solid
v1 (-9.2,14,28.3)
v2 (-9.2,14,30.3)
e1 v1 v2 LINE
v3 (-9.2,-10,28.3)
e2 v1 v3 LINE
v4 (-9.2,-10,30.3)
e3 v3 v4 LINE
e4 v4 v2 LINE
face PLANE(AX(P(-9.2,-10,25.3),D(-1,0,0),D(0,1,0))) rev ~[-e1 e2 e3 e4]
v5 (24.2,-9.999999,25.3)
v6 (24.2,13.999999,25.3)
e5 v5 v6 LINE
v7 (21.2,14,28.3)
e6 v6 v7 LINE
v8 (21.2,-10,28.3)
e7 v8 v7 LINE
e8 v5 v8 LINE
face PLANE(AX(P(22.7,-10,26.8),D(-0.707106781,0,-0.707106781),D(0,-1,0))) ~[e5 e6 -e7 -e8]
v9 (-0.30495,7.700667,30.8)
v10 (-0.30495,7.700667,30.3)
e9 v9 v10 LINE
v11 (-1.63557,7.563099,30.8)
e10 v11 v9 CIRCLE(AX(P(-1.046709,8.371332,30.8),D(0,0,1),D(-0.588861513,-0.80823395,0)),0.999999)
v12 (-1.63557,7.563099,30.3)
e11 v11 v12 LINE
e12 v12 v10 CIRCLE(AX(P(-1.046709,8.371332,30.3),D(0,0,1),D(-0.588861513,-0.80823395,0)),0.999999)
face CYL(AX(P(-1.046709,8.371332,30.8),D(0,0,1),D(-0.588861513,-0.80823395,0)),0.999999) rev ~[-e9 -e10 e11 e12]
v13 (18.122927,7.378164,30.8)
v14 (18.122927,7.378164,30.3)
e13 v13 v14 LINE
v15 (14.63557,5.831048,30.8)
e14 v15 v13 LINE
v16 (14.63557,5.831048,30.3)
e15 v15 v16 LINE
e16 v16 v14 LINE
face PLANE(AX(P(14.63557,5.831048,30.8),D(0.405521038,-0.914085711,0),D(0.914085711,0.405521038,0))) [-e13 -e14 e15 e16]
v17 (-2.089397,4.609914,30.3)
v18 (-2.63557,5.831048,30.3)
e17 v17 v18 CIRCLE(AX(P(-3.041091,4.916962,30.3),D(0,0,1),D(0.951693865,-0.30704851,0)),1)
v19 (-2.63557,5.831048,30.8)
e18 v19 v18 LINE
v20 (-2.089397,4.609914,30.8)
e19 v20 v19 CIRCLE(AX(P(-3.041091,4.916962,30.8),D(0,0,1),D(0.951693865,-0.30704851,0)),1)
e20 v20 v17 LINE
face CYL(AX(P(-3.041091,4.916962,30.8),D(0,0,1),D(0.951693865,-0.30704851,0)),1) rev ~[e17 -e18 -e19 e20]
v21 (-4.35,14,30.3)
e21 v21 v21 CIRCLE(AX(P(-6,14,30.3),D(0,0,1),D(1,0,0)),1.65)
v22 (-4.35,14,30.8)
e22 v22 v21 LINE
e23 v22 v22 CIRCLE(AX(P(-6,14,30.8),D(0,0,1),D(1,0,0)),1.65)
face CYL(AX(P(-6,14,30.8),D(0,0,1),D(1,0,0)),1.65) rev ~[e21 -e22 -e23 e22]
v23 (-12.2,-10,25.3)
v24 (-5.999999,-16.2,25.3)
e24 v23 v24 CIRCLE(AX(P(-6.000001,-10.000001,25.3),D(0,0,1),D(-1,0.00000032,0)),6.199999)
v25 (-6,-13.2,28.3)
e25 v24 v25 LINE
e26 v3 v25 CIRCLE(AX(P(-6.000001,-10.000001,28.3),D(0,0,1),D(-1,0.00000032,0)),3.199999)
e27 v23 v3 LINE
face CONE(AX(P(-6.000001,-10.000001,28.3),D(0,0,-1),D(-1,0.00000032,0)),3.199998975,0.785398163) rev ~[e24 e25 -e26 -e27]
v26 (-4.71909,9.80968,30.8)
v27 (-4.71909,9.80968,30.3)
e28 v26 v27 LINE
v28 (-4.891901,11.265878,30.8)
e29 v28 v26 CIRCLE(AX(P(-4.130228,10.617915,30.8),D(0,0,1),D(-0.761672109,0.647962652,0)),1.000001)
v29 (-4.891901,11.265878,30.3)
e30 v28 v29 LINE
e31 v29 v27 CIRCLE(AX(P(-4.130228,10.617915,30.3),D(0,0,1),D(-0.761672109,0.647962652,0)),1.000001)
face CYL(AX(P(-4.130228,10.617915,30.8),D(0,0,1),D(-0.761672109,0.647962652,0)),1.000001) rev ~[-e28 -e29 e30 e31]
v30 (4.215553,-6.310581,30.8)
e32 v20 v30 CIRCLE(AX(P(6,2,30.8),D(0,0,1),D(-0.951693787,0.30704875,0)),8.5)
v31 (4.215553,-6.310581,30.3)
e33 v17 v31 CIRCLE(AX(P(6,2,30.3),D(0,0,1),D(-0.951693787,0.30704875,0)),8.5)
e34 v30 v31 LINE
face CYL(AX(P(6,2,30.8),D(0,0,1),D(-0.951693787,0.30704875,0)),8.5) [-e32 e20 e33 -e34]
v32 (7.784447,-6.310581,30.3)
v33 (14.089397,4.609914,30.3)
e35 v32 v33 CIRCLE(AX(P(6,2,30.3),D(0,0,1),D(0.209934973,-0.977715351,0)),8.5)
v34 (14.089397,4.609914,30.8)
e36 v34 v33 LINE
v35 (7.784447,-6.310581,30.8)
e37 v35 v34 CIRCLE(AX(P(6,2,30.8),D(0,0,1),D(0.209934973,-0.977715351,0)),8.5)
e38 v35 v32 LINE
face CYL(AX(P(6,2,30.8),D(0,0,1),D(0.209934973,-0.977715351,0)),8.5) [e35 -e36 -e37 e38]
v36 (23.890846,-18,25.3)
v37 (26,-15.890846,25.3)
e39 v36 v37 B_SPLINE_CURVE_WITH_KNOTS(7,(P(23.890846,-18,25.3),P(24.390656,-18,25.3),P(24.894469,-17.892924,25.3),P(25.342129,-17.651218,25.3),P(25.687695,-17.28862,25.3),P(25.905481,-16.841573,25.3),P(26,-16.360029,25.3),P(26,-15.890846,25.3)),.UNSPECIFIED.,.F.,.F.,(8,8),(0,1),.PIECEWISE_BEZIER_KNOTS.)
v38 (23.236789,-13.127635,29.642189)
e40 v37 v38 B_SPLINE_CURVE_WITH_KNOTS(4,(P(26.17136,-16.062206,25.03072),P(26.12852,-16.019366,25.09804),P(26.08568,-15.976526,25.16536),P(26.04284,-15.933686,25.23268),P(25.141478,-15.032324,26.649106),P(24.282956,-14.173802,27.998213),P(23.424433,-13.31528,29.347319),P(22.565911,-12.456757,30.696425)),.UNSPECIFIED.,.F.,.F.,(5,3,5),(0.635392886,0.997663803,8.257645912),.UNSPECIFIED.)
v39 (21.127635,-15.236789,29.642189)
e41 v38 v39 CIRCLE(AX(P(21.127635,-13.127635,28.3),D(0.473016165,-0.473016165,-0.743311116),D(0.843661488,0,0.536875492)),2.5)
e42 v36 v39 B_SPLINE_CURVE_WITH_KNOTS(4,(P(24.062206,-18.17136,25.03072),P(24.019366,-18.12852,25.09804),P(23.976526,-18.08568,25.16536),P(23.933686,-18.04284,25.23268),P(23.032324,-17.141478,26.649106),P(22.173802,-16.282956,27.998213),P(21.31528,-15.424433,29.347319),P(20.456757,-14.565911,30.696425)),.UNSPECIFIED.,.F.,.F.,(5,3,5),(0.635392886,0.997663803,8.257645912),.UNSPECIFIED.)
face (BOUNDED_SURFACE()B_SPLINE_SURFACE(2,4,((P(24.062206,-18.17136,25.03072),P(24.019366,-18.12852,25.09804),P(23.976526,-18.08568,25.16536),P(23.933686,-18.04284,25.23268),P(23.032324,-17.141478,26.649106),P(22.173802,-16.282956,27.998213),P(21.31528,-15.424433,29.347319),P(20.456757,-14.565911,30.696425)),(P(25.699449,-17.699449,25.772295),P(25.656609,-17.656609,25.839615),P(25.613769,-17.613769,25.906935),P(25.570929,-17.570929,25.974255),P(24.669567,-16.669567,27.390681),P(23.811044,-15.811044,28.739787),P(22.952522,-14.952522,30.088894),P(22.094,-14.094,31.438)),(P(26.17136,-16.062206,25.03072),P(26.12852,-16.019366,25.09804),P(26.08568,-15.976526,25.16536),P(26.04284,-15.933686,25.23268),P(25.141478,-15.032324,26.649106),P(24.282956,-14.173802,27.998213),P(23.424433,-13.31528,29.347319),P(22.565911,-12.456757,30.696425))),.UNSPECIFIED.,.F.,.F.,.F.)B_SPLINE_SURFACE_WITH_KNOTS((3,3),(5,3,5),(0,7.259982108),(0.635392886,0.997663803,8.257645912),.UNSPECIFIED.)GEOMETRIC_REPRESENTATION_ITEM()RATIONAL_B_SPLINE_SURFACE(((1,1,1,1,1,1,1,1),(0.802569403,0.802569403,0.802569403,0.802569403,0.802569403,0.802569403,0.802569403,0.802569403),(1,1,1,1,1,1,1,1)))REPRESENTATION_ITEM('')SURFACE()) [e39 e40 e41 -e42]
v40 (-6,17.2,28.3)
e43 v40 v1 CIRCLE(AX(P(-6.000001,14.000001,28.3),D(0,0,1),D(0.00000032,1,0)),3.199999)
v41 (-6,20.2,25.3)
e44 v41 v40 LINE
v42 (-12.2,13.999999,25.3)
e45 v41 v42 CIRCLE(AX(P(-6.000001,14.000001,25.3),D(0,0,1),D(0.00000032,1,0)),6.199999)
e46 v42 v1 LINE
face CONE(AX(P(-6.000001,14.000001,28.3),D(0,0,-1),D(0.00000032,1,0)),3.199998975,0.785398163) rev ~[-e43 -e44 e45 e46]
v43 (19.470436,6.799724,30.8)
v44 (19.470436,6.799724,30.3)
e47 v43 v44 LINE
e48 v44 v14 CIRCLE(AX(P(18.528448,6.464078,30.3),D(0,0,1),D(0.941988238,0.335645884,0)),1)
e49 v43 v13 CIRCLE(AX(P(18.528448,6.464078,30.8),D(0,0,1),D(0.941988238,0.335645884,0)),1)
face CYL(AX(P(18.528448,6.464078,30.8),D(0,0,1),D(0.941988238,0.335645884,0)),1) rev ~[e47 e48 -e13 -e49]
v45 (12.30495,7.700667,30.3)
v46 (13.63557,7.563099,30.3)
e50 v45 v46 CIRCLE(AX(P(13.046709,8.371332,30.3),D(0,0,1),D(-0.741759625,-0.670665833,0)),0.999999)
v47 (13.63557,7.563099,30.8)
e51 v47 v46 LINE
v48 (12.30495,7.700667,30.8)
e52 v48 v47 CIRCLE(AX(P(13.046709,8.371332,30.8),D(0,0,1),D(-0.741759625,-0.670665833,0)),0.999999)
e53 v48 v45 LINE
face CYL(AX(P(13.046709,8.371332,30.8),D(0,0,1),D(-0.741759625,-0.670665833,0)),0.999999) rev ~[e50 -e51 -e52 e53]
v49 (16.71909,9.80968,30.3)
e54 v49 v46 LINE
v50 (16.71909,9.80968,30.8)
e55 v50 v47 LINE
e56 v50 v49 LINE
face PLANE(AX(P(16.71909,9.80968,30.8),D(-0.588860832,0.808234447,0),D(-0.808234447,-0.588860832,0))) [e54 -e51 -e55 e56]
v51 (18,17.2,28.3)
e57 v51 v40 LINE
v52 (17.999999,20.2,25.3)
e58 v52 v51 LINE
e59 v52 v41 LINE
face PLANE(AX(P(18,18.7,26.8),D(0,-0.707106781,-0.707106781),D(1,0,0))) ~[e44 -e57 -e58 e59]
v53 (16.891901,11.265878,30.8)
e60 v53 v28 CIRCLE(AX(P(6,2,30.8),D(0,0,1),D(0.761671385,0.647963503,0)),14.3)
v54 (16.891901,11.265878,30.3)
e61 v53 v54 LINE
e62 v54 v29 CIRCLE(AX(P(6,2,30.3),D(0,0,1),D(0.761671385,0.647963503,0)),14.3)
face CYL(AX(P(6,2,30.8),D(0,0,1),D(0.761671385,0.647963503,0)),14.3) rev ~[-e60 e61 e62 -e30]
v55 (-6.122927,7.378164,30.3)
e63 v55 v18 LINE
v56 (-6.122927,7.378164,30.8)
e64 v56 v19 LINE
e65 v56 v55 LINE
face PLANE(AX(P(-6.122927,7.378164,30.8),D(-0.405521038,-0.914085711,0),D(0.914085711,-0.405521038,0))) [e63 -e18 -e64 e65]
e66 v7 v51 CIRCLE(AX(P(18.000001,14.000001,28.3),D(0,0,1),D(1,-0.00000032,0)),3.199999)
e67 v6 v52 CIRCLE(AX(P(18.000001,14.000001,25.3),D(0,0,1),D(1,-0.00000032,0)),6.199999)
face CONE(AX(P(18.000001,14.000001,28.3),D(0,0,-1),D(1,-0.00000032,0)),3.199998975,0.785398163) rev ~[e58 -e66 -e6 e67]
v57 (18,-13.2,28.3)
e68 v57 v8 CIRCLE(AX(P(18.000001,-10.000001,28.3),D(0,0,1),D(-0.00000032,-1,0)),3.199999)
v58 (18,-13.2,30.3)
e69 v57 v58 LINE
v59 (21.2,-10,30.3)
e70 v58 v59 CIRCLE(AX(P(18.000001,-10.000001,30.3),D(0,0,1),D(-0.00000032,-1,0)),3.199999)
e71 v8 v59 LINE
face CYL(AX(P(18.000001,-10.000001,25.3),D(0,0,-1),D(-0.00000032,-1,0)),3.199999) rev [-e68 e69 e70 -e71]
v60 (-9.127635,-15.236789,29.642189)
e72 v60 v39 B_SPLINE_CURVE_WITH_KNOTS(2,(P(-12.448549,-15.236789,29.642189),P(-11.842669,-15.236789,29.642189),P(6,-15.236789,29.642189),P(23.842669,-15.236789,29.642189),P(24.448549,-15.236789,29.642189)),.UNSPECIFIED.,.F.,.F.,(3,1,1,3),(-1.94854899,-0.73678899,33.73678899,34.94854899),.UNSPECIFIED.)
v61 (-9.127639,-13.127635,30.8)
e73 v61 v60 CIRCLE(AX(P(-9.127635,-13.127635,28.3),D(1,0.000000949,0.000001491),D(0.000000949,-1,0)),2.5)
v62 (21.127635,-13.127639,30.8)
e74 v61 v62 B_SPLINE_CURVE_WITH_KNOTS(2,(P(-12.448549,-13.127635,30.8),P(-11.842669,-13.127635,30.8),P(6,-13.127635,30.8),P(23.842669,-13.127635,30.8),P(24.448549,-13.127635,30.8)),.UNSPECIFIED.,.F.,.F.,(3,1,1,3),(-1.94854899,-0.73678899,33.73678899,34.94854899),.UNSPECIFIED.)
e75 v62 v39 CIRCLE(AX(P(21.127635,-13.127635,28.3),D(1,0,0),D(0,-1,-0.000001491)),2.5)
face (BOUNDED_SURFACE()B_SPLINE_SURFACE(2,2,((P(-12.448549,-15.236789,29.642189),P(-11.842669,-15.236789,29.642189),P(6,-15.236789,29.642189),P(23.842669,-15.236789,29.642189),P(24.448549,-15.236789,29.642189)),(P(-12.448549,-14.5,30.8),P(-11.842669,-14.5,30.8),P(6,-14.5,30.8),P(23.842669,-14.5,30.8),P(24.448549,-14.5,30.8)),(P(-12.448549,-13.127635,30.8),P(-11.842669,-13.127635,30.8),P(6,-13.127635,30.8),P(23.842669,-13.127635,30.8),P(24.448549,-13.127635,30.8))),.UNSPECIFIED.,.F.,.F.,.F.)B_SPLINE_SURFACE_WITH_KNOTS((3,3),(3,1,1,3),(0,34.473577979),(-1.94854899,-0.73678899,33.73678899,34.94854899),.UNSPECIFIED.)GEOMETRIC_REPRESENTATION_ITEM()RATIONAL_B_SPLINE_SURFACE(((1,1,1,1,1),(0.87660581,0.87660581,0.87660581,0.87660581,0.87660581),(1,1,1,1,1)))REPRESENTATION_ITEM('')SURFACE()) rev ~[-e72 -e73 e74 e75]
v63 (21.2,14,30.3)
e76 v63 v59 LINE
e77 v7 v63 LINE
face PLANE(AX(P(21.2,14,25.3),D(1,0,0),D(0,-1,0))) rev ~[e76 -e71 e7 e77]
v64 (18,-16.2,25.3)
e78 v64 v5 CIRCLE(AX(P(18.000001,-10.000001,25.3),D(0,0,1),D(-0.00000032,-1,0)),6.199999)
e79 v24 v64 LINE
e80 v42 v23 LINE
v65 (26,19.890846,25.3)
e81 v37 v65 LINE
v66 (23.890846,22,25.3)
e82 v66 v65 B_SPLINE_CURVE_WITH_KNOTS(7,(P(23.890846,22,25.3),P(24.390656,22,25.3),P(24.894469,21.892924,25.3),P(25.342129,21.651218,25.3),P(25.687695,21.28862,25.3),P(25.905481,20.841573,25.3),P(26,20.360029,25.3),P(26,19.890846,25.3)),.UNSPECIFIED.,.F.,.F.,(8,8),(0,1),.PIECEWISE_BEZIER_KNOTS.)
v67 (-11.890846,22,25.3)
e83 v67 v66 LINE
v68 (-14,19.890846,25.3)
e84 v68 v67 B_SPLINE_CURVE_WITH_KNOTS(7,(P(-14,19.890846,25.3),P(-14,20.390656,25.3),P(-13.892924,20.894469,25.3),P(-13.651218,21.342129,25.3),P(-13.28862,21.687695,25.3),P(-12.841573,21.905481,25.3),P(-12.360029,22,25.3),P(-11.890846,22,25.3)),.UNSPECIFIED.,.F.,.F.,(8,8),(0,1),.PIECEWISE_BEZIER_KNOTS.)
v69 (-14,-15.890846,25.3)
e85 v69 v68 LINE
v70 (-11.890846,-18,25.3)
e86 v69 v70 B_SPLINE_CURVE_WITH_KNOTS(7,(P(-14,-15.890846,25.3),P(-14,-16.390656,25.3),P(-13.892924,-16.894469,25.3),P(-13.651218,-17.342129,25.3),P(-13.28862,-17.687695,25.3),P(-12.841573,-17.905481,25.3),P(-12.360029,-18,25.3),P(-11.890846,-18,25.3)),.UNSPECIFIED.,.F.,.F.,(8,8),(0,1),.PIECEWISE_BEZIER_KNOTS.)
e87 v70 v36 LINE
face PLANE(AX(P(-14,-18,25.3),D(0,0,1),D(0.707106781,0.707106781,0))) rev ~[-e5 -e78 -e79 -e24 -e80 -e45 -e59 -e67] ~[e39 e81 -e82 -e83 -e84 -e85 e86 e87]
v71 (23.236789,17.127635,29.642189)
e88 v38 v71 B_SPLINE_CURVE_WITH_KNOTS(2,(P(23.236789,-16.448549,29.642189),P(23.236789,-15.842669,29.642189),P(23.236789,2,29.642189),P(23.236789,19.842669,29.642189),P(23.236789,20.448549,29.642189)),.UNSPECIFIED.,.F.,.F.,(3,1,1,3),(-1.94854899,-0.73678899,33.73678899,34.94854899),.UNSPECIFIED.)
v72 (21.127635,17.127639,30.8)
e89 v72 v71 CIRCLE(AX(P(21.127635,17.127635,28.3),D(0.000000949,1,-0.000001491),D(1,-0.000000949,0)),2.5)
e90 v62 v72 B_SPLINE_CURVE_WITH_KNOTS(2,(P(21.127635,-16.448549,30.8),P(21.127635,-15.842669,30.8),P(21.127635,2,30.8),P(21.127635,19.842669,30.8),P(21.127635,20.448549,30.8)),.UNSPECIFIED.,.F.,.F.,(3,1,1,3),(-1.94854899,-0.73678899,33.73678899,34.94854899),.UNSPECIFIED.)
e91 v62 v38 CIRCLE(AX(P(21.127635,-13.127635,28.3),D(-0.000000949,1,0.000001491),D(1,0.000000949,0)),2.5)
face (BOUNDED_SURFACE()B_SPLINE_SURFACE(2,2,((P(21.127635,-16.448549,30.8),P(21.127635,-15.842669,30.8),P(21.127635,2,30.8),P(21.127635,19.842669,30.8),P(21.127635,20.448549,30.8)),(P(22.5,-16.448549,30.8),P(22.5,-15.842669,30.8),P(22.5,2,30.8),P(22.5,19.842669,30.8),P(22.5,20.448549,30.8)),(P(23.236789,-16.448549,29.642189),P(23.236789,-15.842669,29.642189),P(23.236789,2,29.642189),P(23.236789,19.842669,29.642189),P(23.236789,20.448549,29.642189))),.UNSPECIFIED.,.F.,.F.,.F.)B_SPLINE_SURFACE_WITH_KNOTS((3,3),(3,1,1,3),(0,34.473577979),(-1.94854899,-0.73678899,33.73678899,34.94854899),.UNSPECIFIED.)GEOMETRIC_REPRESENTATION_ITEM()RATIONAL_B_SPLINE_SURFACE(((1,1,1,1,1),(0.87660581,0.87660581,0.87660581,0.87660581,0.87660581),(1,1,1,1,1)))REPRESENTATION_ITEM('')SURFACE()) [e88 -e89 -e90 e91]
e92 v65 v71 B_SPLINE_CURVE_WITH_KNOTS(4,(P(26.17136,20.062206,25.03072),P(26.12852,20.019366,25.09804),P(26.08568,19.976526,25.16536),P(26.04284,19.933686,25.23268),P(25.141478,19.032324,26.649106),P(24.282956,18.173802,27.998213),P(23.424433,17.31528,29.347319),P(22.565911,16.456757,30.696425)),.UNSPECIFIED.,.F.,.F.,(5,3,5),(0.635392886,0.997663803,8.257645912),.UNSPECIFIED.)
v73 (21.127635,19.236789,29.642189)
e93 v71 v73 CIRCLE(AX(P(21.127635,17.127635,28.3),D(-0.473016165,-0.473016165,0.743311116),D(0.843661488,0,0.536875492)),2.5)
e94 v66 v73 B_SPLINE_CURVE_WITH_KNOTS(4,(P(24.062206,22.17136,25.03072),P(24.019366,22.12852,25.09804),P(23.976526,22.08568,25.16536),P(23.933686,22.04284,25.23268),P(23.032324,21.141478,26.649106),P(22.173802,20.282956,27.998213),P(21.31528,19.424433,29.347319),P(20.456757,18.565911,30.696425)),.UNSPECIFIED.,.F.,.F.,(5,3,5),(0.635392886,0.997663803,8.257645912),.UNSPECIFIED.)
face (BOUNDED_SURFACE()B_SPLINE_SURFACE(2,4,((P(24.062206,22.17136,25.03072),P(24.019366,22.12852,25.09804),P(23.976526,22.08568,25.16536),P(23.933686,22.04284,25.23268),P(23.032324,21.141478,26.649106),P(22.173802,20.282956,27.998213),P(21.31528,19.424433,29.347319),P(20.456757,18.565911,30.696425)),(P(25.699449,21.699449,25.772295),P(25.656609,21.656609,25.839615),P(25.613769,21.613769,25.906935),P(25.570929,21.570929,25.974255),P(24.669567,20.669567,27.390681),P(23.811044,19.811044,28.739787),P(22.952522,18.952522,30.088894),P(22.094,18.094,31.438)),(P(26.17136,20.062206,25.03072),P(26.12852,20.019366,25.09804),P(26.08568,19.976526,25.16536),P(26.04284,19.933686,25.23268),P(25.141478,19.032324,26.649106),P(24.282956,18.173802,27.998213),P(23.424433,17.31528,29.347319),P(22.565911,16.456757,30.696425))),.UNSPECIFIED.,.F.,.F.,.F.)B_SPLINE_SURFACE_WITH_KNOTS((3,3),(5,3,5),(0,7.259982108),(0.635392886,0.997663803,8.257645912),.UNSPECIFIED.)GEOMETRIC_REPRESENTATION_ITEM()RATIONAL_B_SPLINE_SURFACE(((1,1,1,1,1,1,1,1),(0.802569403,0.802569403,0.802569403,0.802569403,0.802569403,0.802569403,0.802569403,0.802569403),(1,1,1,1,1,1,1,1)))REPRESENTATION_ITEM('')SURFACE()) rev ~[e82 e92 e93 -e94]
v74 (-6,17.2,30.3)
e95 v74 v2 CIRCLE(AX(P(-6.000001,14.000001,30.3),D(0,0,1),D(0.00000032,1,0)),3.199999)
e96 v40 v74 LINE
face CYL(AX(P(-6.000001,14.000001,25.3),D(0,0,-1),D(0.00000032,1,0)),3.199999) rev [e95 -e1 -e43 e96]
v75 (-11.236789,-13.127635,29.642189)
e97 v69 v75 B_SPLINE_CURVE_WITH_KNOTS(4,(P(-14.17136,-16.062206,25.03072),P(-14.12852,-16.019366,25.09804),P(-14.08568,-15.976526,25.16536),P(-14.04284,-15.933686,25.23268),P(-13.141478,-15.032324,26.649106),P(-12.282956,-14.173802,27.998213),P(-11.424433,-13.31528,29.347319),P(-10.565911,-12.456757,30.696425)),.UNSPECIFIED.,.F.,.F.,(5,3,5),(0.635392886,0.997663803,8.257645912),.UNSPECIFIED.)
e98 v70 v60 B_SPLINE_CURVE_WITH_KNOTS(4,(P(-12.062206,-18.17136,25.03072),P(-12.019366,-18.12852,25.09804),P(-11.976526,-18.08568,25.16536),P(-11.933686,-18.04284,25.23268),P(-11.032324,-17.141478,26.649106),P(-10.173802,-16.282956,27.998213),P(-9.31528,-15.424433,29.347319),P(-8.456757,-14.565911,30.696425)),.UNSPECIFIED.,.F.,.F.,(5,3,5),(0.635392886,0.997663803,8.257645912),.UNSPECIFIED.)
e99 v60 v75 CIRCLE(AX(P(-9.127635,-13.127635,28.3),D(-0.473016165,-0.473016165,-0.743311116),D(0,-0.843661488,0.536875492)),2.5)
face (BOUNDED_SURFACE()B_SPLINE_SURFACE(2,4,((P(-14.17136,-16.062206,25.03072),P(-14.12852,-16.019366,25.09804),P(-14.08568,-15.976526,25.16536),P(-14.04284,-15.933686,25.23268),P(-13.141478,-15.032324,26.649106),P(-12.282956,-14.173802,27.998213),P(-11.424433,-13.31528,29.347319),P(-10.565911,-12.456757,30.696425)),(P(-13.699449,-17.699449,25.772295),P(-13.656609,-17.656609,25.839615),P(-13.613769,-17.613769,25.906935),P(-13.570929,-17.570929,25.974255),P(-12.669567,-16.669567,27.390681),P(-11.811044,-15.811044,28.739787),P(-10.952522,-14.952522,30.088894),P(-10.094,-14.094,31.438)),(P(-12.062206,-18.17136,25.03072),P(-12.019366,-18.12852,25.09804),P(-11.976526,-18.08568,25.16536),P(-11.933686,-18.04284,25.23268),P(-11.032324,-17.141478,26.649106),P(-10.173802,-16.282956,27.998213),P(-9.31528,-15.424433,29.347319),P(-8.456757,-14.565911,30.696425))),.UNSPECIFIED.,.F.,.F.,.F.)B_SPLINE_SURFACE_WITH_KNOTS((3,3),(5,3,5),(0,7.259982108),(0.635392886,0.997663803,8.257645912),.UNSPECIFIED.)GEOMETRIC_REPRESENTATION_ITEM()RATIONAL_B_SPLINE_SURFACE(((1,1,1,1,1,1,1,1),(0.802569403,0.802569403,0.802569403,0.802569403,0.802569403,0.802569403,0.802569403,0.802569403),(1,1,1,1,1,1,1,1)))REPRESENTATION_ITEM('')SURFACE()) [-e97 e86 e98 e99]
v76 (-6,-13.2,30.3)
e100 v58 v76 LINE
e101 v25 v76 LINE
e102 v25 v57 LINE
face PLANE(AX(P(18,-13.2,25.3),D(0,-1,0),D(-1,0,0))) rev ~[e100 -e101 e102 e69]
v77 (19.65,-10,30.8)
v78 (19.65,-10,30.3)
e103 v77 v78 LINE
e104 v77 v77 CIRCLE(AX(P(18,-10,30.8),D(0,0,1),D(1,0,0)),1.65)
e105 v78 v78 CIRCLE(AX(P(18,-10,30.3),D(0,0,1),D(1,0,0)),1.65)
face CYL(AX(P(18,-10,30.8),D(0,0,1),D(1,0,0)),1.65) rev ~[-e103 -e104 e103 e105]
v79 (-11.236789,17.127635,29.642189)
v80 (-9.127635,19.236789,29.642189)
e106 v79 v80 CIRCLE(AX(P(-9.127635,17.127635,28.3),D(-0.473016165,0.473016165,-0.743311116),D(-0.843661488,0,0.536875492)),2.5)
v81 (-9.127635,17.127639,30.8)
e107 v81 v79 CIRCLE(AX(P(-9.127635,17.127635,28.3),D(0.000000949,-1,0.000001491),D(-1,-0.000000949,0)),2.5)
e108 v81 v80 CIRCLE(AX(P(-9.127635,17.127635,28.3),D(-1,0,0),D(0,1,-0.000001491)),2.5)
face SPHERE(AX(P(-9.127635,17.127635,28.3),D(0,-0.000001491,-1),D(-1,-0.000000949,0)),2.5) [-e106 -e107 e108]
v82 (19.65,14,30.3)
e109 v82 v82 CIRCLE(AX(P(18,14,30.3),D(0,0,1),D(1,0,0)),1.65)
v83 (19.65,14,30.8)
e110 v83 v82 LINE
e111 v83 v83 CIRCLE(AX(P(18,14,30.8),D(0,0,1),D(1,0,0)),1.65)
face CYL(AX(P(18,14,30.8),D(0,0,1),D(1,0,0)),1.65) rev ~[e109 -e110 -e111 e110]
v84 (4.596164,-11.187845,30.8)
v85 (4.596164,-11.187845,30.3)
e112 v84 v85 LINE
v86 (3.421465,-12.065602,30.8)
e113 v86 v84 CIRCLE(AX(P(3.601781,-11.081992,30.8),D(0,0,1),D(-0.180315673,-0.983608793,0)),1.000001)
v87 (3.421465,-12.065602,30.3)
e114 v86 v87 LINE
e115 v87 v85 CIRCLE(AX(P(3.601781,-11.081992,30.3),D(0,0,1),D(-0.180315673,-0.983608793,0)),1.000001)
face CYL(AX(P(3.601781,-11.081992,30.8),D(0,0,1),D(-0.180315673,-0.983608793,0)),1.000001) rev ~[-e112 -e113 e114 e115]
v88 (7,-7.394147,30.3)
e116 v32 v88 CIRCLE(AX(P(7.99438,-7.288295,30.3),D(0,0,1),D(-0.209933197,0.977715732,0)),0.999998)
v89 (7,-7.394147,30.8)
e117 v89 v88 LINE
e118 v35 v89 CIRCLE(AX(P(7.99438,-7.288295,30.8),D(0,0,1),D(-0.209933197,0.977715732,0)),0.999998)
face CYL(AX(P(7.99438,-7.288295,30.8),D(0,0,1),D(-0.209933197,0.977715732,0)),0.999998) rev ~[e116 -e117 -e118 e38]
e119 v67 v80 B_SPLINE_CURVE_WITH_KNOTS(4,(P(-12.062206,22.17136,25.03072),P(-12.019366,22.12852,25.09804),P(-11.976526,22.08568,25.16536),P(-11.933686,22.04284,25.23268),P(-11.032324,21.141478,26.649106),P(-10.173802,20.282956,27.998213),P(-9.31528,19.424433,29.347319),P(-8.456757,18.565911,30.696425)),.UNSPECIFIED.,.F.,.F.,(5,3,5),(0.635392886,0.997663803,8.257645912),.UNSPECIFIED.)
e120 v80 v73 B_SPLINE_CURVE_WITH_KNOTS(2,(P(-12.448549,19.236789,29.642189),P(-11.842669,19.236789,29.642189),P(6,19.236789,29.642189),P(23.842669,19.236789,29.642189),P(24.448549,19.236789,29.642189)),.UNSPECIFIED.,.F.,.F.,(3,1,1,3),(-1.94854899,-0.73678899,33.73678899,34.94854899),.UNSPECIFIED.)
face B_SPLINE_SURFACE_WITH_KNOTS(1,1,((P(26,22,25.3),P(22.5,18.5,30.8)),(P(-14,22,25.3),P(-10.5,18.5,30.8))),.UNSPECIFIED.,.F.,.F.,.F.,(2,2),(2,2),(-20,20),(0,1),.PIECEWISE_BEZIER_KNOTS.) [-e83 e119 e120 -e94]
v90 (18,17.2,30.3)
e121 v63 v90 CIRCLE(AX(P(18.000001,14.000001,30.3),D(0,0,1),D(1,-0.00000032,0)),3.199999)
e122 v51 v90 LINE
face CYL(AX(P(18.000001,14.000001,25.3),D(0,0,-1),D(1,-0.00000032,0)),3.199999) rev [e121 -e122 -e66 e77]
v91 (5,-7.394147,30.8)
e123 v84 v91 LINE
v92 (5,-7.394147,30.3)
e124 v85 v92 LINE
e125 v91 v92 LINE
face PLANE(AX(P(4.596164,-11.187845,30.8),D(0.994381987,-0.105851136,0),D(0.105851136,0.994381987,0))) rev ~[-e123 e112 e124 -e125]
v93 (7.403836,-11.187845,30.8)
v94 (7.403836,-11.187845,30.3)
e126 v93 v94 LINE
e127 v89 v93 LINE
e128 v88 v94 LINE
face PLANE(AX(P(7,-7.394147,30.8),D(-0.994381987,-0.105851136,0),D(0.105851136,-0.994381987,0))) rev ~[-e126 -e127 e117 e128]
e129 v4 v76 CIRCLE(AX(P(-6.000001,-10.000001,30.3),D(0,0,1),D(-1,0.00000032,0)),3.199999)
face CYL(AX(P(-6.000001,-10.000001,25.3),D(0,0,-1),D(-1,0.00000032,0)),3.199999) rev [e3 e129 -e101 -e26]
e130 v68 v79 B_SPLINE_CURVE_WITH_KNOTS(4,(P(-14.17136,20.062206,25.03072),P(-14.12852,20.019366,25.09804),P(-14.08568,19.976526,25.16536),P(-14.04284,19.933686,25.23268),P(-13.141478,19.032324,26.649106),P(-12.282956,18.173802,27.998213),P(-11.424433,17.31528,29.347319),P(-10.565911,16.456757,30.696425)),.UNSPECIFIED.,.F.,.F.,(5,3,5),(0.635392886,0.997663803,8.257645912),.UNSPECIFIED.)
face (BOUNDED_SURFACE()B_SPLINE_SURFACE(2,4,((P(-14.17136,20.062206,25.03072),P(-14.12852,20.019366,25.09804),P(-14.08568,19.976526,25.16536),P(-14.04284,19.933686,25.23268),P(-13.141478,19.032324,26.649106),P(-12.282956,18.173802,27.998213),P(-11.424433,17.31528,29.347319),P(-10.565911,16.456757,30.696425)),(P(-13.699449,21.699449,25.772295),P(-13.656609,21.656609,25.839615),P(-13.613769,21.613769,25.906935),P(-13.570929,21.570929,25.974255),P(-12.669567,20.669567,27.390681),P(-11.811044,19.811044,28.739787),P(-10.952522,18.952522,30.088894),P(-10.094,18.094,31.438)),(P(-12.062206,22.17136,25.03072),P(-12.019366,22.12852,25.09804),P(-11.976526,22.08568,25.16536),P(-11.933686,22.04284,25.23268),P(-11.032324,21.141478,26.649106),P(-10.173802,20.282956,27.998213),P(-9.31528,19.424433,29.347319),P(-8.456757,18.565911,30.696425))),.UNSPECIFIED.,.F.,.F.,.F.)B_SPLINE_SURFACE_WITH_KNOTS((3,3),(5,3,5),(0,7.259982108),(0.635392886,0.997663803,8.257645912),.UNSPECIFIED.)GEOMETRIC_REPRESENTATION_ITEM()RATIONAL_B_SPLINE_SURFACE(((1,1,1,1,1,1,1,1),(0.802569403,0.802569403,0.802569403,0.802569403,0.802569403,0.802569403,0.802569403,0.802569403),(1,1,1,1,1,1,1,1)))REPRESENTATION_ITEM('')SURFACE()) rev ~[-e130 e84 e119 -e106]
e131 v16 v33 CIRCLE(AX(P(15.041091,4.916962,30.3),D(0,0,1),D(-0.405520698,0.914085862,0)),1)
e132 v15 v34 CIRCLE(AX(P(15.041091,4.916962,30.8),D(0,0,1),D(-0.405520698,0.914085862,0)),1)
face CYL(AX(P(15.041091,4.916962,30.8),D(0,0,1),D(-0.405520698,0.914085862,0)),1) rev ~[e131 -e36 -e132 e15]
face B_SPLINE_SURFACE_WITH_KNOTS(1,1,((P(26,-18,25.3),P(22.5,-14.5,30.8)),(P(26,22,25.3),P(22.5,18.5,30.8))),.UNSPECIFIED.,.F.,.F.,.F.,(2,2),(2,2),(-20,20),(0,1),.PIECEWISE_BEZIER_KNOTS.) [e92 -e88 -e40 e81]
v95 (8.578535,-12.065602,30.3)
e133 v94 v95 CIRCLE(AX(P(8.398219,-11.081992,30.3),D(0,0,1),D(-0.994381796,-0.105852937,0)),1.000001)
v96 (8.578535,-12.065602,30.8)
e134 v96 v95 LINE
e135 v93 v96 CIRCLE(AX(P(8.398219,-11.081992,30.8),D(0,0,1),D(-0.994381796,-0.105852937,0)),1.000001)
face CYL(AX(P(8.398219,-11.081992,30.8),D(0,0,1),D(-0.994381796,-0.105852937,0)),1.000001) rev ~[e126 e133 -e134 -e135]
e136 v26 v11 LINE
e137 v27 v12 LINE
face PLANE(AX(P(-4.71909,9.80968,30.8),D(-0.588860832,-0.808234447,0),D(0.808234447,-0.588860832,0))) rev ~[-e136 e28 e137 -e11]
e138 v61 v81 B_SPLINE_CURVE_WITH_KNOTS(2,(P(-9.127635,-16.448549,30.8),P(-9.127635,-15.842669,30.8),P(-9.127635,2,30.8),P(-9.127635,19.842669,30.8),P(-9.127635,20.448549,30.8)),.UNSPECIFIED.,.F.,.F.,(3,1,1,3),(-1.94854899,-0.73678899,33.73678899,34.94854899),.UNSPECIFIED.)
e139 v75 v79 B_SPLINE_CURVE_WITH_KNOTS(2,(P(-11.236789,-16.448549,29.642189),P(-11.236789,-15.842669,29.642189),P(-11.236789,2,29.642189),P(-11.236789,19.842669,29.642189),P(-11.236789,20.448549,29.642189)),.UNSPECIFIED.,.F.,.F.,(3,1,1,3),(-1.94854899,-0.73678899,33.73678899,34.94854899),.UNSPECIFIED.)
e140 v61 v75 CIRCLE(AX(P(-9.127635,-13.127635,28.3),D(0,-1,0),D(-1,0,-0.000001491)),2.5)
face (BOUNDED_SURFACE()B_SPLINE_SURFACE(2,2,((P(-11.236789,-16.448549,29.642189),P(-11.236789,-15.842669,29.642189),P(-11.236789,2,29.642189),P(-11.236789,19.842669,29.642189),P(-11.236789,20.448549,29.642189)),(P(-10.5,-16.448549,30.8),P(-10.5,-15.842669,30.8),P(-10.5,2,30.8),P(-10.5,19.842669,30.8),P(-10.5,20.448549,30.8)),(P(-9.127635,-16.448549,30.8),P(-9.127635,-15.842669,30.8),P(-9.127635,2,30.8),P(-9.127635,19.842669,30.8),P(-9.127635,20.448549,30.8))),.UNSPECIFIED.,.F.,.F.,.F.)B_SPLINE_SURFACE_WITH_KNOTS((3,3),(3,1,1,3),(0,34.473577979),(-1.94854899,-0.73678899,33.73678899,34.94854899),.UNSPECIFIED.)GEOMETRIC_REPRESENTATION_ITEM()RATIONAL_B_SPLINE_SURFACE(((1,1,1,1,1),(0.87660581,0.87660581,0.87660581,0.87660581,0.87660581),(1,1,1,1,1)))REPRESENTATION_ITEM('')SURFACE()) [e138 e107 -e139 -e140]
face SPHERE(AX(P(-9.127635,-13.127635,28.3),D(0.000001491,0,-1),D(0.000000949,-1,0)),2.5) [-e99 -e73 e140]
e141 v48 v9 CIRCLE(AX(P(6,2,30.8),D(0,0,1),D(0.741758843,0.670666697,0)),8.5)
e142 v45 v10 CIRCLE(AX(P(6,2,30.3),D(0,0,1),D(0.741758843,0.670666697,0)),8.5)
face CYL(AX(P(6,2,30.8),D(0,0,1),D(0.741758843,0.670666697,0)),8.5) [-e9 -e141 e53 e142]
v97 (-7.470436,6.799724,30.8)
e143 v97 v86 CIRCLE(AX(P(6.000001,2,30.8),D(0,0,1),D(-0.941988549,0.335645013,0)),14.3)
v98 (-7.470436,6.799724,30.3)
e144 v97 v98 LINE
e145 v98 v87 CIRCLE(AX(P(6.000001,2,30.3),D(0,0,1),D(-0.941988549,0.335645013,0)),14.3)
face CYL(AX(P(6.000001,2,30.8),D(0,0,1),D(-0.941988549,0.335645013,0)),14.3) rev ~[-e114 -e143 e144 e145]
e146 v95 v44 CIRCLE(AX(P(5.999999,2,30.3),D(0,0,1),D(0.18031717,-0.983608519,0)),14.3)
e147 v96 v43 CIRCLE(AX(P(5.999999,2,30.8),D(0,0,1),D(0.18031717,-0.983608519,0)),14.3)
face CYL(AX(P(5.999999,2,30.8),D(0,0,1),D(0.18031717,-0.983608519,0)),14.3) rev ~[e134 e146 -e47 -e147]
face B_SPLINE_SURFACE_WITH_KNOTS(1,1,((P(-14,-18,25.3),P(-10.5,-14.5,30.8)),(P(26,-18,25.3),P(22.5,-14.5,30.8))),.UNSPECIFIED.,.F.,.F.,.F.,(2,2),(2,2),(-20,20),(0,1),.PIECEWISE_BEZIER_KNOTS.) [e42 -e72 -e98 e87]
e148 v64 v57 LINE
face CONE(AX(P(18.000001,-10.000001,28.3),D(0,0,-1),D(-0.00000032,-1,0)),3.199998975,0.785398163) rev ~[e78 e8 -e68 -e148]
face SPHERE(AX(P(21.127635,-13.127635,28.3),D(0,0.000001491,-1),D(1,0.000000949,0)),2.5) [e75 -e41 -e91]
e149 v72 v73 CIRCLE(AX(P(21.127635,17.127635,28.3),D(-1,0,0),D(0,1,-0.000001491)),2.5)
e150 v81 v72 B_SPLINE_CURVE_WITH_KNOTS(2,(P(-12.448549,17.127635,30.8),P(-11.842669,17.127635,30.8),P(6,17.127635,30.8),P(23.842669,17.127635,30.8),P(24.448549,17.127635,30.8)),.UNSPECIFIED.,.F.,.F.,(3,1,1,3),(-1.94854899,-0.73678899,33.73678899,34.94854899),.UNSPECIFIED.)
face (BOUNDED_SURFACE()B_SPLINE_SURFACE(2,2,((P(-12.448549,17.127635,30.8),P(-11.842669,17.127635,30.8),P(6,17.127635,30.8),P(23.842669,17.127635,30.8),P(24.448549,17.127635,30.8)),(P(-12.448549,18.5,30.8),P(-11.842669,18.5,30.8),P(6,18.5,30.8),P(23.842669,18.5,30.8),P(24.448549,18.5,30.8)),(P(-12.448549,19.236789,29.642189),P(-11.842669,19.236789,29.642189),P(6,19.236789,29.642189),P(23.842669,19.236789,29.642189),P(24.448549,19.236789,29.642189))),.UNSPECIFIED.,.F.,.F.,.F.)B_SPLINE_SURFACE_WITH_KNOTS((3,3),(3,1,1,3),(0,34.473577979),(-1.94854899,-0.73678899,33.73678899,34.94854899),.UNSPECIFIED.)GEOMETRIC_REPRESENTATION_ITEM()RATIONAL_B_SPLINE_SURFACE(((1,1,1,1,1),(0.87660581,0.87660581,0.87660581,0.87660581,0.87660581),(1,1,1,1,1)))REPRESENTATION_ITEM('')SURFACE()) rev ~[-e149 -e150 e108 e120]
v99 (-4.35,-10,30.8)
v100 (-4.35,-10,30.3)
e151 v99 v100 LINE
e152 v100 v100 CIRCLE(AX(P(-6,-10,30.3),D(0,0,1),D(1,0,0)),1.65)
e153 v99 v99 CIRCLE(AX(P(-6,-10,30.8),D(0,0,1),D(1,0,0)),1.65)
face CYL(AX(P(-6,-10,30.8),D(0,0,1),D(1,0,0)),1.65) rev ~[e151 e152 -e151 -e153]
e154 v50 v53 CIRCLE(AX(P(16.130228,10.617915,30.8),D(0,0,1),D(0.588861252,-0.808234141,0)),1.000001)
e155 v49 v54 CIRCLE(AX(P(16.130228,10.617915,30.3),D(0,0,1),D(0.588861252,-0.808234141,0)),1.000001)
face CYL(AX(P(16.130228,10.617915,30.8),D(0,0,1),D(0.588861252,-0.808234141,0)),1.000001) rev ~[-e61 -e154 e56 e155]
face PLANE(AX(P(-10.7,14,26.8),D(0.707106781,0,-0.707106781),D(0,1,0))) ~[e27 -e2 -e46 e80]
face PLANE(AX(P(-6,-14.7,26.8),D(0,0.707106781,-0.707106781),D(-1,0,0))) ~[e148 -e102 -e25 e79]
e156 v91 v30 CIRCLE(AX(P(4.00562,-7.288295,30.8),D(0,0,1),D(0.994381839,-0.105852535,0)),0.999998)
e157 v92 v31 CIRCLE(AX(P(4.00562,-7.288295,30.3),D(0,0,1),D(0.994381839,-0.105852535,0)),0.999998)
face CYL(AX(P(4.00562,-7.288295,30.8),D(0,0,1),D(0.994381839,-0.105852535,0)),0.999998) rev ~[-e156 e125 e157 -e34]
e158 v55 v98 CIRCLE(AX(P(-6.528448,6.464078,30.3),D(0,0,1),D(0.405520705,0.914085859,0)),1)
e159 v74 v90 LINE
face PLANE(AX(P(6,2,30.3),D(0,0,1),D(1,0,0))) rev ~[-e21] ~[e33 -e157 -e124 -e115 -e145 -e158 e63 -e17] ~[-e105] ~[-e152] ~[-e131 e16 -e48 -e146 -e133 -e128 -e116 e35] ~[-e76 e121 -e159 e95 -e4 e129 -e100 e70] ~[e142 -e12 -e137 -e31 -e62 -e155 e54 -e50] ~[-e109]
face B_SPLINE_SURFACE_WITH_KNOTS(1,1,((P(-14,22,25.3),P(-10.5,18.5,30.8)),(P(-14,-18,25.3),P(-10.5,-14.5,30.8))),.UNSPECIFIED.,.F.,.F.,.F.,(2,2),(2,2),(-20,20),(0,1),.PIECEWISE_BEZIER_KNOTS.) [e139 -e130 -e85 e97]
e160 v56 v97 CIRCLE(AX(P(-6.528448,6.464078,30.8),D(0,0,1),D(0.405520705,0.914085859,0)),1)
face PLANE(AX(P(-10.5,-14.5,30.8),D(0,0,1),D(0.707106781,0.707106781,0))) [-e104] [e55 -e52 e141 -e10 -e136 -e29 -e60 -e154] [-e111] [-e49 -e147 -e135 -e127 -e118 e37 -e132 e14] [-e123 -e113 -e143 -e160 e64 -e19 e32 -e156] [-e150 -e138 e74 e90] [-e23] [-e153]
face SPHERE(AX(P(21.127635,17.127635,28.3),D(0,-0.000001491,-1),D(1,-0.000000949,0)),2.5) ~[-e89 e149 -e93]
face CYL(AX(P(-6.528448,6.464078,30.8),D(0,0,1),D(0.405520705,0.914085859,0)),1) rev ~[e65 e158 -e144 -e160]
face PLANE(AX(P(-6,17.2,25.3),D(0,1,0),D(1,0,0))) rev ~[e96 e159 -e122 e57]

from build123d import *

# Parameters (mm, degrees)
SKETCH037_W     = 40
SKETCH037_H     = 40
SKETCH040_W     = 33
SKETCH040_H     = 33
POCKET025_DEPTH = 5
SKETCH039_R     = 1.65
POCKET026_DEPTH = 5
POCKET027_DEPTH = 5
FILLET001_R     = 2.5
CHAMFER011_SIZE = 3


with BuildPart() as part:
    # Sketch037 → AdditiveLoft section 0
    with BuildSketch(Plane.XY):
        Rectangle(SKETCH037_W, SKETCH037_H)
    # Sketch040 → AdditiveLoft section 1
    with BuildSketch(Plane.XY.offset(5.5)):
        Rectangle(SKETCH040_W, SKETCH040_H)
    loft()

    # Sketch038 → Pocket025 (cut)
    with BuildSketch(Plane.XY):
        with BuildLine():
            ThreePointArc((-12, 15.2), (-14.262742, 14.262742), (-15.2, 12))
            Line((-15.2, -12), (-15.2, 12))
            ThreePointArc((-15.2, -12), (-14.262742, -14.262742), (-12, -15.2))
            Line((12, -15.2), (-12, -15.2))
            ThreePointArc((12, -15.2), (14.262742, -14.262742), (15.2, -12))
            Line((15.2, 12), (15.2, -12))
            ThreePointArc((15.2, 12), (14.262742, 14.262742), (12, 15.2))
            Line((-12, 15.2), (12, 15.2))
        make_face()
    extrude(amount=POCKET025_DEPTH, mode=Mode.SUBTRACT)

    # Sketch039 → Pocket026 (cut)
    with BuildSketch(Plane.XY.offset(5.5)):
        with Locations((-12, 12)):
            Circle(SKETCH039_R)
        with Locations((12, 12)):
            Circle(SKETCH039_R)
        with Locations((12, -12)):
            Circle(SKETCH039_R)
        with Locations((-12, -12)):
            Circle(SKETCH039_R)
    extrude(amount=-POCKET026_DEPTH, mode=Mode.SUBTRACT)

    # Sketch041 → Pocket027 (cut)
    with BuildSketch(Plane.XY.offset(5.5)):
        with BuildLine():
            ThreePointArc((10.891901, 9.265878), (0, 14.3), (-10.891901, 9.265878))
            ThreePointArc((-10.891901, 9.265878), (-11.123261, 8.500069), (-10.71909, 7.80968))
            Line((-10.71909, 7.80968), (-7.63557, 5.563099))
            ThreePointArc((-7.63557, 5.563099), (-6.943871, 5.376635), (-6.30495, 5.700667))
            ThreePointArc((6.30495, 5.700667), (0, 8.5), (-6.30495, 5.700667))
            ThreePointArc((6.30495, 5.700667), (6.943871, 5.376635), (7.63557, 5.563099))
            Line((10.71909, 7.80968), (7.63557, 5.563099))
            ThreePointArc((10.71909, 7.80968), (11.123261, 8.500069), (10.891901, 9.265878))
        make_face()
        with BuildLine():
            ThreePointArc((-13.470436, 4.799724), (-12.384163, -7.15), (-2.578535, -14.065602))
            ThreePointArc((-2.578535, -14.065602), (-1.799645, -13.883061), (-1.403836, -13.187845))
            Line((-1.403836, -13.187845), (-1, -9.394147))
            ThreePointArc((-1, -9.394147), (-1.184367, -8.701886), (-1.784447, -8.310581))
            ThreePointArc((-8.089397, 2.609914), (-7.361216, -4.25), (-1.784447, -8.310581))
            ThreePointArc((-8.089397, 2.609914), (-8.128238, 3.325251), (-8.63557, 3.831048))
            Line((-12.122927, 5.378164), (-8.63557, 3.831048))
            ThreePointArc((-12.122927, 5.378164), (-12.922906, 5.382992), (-13.470436, 4.799724))
        make_face()
        with BuildLine():
            ThreePointArc((2.578535, -14.065602), (12.384163, -7.15), (13.470436, 4.799724))
            ThreePointArc((13.470436, 4.799724), (12.922906, 5.382992), (12.122927, 5.378164))
            Line((8.63557, 3.831048), (12.122927, 5.378164))
            ThreePointArc((8.63557, 3.831048), (8.128238, 3.325251), (8.089397, 2.609914))
            ThreePointArc((1.784447, -8.310581), (7.361216, -4.25), (8.089397, 2.609914))
            ThreePointArc((1.784447, -8.310581), (1.184367, -8.701886), (1, -9.394147))
            Line((1, -9.394147), (1.403836, -13.187845))
            ThreePointArc((1.403836, -13.187845), (1.799645, -13.883061), (2.578535, -14.065602))
        make_face()
    extrude(amount=-POCKET027_DEPTH, mode=Mode.SUBTRACT)

    # Fillet001
    fillet001_edges = [part.edges().sort_by_distance(p)[0] for p in [
        (18.25, -18.25, 2.75),
        (18.25, 18.25, 2.75),
        (-18.25, -18.25, 2.75),
        (-18.25, 18.25, 2.75),
        (16.5, 0, 5.5),
        (0, -16.5, 5.5),
        (-16.5, 0, 5.5),
        (0, 16.5, 5.5),
    ]]
    fillet(fillet001_edges, radius=FILLET001_R)

    # Chamfer011
    chamfer011_edges = [part.edges().sort_by_distance(p)[0] for p in [
        (14.262742, 14.262742, 0),
    ]]
    chamfer(chamfer011_edges, length=CHAMFER011_SIZE)


with BuildPart() as part_1:
    # Body002 placement: moved
    add(part.part.moved(Location((6, 2, 25.3))))


solid = part_1.part
